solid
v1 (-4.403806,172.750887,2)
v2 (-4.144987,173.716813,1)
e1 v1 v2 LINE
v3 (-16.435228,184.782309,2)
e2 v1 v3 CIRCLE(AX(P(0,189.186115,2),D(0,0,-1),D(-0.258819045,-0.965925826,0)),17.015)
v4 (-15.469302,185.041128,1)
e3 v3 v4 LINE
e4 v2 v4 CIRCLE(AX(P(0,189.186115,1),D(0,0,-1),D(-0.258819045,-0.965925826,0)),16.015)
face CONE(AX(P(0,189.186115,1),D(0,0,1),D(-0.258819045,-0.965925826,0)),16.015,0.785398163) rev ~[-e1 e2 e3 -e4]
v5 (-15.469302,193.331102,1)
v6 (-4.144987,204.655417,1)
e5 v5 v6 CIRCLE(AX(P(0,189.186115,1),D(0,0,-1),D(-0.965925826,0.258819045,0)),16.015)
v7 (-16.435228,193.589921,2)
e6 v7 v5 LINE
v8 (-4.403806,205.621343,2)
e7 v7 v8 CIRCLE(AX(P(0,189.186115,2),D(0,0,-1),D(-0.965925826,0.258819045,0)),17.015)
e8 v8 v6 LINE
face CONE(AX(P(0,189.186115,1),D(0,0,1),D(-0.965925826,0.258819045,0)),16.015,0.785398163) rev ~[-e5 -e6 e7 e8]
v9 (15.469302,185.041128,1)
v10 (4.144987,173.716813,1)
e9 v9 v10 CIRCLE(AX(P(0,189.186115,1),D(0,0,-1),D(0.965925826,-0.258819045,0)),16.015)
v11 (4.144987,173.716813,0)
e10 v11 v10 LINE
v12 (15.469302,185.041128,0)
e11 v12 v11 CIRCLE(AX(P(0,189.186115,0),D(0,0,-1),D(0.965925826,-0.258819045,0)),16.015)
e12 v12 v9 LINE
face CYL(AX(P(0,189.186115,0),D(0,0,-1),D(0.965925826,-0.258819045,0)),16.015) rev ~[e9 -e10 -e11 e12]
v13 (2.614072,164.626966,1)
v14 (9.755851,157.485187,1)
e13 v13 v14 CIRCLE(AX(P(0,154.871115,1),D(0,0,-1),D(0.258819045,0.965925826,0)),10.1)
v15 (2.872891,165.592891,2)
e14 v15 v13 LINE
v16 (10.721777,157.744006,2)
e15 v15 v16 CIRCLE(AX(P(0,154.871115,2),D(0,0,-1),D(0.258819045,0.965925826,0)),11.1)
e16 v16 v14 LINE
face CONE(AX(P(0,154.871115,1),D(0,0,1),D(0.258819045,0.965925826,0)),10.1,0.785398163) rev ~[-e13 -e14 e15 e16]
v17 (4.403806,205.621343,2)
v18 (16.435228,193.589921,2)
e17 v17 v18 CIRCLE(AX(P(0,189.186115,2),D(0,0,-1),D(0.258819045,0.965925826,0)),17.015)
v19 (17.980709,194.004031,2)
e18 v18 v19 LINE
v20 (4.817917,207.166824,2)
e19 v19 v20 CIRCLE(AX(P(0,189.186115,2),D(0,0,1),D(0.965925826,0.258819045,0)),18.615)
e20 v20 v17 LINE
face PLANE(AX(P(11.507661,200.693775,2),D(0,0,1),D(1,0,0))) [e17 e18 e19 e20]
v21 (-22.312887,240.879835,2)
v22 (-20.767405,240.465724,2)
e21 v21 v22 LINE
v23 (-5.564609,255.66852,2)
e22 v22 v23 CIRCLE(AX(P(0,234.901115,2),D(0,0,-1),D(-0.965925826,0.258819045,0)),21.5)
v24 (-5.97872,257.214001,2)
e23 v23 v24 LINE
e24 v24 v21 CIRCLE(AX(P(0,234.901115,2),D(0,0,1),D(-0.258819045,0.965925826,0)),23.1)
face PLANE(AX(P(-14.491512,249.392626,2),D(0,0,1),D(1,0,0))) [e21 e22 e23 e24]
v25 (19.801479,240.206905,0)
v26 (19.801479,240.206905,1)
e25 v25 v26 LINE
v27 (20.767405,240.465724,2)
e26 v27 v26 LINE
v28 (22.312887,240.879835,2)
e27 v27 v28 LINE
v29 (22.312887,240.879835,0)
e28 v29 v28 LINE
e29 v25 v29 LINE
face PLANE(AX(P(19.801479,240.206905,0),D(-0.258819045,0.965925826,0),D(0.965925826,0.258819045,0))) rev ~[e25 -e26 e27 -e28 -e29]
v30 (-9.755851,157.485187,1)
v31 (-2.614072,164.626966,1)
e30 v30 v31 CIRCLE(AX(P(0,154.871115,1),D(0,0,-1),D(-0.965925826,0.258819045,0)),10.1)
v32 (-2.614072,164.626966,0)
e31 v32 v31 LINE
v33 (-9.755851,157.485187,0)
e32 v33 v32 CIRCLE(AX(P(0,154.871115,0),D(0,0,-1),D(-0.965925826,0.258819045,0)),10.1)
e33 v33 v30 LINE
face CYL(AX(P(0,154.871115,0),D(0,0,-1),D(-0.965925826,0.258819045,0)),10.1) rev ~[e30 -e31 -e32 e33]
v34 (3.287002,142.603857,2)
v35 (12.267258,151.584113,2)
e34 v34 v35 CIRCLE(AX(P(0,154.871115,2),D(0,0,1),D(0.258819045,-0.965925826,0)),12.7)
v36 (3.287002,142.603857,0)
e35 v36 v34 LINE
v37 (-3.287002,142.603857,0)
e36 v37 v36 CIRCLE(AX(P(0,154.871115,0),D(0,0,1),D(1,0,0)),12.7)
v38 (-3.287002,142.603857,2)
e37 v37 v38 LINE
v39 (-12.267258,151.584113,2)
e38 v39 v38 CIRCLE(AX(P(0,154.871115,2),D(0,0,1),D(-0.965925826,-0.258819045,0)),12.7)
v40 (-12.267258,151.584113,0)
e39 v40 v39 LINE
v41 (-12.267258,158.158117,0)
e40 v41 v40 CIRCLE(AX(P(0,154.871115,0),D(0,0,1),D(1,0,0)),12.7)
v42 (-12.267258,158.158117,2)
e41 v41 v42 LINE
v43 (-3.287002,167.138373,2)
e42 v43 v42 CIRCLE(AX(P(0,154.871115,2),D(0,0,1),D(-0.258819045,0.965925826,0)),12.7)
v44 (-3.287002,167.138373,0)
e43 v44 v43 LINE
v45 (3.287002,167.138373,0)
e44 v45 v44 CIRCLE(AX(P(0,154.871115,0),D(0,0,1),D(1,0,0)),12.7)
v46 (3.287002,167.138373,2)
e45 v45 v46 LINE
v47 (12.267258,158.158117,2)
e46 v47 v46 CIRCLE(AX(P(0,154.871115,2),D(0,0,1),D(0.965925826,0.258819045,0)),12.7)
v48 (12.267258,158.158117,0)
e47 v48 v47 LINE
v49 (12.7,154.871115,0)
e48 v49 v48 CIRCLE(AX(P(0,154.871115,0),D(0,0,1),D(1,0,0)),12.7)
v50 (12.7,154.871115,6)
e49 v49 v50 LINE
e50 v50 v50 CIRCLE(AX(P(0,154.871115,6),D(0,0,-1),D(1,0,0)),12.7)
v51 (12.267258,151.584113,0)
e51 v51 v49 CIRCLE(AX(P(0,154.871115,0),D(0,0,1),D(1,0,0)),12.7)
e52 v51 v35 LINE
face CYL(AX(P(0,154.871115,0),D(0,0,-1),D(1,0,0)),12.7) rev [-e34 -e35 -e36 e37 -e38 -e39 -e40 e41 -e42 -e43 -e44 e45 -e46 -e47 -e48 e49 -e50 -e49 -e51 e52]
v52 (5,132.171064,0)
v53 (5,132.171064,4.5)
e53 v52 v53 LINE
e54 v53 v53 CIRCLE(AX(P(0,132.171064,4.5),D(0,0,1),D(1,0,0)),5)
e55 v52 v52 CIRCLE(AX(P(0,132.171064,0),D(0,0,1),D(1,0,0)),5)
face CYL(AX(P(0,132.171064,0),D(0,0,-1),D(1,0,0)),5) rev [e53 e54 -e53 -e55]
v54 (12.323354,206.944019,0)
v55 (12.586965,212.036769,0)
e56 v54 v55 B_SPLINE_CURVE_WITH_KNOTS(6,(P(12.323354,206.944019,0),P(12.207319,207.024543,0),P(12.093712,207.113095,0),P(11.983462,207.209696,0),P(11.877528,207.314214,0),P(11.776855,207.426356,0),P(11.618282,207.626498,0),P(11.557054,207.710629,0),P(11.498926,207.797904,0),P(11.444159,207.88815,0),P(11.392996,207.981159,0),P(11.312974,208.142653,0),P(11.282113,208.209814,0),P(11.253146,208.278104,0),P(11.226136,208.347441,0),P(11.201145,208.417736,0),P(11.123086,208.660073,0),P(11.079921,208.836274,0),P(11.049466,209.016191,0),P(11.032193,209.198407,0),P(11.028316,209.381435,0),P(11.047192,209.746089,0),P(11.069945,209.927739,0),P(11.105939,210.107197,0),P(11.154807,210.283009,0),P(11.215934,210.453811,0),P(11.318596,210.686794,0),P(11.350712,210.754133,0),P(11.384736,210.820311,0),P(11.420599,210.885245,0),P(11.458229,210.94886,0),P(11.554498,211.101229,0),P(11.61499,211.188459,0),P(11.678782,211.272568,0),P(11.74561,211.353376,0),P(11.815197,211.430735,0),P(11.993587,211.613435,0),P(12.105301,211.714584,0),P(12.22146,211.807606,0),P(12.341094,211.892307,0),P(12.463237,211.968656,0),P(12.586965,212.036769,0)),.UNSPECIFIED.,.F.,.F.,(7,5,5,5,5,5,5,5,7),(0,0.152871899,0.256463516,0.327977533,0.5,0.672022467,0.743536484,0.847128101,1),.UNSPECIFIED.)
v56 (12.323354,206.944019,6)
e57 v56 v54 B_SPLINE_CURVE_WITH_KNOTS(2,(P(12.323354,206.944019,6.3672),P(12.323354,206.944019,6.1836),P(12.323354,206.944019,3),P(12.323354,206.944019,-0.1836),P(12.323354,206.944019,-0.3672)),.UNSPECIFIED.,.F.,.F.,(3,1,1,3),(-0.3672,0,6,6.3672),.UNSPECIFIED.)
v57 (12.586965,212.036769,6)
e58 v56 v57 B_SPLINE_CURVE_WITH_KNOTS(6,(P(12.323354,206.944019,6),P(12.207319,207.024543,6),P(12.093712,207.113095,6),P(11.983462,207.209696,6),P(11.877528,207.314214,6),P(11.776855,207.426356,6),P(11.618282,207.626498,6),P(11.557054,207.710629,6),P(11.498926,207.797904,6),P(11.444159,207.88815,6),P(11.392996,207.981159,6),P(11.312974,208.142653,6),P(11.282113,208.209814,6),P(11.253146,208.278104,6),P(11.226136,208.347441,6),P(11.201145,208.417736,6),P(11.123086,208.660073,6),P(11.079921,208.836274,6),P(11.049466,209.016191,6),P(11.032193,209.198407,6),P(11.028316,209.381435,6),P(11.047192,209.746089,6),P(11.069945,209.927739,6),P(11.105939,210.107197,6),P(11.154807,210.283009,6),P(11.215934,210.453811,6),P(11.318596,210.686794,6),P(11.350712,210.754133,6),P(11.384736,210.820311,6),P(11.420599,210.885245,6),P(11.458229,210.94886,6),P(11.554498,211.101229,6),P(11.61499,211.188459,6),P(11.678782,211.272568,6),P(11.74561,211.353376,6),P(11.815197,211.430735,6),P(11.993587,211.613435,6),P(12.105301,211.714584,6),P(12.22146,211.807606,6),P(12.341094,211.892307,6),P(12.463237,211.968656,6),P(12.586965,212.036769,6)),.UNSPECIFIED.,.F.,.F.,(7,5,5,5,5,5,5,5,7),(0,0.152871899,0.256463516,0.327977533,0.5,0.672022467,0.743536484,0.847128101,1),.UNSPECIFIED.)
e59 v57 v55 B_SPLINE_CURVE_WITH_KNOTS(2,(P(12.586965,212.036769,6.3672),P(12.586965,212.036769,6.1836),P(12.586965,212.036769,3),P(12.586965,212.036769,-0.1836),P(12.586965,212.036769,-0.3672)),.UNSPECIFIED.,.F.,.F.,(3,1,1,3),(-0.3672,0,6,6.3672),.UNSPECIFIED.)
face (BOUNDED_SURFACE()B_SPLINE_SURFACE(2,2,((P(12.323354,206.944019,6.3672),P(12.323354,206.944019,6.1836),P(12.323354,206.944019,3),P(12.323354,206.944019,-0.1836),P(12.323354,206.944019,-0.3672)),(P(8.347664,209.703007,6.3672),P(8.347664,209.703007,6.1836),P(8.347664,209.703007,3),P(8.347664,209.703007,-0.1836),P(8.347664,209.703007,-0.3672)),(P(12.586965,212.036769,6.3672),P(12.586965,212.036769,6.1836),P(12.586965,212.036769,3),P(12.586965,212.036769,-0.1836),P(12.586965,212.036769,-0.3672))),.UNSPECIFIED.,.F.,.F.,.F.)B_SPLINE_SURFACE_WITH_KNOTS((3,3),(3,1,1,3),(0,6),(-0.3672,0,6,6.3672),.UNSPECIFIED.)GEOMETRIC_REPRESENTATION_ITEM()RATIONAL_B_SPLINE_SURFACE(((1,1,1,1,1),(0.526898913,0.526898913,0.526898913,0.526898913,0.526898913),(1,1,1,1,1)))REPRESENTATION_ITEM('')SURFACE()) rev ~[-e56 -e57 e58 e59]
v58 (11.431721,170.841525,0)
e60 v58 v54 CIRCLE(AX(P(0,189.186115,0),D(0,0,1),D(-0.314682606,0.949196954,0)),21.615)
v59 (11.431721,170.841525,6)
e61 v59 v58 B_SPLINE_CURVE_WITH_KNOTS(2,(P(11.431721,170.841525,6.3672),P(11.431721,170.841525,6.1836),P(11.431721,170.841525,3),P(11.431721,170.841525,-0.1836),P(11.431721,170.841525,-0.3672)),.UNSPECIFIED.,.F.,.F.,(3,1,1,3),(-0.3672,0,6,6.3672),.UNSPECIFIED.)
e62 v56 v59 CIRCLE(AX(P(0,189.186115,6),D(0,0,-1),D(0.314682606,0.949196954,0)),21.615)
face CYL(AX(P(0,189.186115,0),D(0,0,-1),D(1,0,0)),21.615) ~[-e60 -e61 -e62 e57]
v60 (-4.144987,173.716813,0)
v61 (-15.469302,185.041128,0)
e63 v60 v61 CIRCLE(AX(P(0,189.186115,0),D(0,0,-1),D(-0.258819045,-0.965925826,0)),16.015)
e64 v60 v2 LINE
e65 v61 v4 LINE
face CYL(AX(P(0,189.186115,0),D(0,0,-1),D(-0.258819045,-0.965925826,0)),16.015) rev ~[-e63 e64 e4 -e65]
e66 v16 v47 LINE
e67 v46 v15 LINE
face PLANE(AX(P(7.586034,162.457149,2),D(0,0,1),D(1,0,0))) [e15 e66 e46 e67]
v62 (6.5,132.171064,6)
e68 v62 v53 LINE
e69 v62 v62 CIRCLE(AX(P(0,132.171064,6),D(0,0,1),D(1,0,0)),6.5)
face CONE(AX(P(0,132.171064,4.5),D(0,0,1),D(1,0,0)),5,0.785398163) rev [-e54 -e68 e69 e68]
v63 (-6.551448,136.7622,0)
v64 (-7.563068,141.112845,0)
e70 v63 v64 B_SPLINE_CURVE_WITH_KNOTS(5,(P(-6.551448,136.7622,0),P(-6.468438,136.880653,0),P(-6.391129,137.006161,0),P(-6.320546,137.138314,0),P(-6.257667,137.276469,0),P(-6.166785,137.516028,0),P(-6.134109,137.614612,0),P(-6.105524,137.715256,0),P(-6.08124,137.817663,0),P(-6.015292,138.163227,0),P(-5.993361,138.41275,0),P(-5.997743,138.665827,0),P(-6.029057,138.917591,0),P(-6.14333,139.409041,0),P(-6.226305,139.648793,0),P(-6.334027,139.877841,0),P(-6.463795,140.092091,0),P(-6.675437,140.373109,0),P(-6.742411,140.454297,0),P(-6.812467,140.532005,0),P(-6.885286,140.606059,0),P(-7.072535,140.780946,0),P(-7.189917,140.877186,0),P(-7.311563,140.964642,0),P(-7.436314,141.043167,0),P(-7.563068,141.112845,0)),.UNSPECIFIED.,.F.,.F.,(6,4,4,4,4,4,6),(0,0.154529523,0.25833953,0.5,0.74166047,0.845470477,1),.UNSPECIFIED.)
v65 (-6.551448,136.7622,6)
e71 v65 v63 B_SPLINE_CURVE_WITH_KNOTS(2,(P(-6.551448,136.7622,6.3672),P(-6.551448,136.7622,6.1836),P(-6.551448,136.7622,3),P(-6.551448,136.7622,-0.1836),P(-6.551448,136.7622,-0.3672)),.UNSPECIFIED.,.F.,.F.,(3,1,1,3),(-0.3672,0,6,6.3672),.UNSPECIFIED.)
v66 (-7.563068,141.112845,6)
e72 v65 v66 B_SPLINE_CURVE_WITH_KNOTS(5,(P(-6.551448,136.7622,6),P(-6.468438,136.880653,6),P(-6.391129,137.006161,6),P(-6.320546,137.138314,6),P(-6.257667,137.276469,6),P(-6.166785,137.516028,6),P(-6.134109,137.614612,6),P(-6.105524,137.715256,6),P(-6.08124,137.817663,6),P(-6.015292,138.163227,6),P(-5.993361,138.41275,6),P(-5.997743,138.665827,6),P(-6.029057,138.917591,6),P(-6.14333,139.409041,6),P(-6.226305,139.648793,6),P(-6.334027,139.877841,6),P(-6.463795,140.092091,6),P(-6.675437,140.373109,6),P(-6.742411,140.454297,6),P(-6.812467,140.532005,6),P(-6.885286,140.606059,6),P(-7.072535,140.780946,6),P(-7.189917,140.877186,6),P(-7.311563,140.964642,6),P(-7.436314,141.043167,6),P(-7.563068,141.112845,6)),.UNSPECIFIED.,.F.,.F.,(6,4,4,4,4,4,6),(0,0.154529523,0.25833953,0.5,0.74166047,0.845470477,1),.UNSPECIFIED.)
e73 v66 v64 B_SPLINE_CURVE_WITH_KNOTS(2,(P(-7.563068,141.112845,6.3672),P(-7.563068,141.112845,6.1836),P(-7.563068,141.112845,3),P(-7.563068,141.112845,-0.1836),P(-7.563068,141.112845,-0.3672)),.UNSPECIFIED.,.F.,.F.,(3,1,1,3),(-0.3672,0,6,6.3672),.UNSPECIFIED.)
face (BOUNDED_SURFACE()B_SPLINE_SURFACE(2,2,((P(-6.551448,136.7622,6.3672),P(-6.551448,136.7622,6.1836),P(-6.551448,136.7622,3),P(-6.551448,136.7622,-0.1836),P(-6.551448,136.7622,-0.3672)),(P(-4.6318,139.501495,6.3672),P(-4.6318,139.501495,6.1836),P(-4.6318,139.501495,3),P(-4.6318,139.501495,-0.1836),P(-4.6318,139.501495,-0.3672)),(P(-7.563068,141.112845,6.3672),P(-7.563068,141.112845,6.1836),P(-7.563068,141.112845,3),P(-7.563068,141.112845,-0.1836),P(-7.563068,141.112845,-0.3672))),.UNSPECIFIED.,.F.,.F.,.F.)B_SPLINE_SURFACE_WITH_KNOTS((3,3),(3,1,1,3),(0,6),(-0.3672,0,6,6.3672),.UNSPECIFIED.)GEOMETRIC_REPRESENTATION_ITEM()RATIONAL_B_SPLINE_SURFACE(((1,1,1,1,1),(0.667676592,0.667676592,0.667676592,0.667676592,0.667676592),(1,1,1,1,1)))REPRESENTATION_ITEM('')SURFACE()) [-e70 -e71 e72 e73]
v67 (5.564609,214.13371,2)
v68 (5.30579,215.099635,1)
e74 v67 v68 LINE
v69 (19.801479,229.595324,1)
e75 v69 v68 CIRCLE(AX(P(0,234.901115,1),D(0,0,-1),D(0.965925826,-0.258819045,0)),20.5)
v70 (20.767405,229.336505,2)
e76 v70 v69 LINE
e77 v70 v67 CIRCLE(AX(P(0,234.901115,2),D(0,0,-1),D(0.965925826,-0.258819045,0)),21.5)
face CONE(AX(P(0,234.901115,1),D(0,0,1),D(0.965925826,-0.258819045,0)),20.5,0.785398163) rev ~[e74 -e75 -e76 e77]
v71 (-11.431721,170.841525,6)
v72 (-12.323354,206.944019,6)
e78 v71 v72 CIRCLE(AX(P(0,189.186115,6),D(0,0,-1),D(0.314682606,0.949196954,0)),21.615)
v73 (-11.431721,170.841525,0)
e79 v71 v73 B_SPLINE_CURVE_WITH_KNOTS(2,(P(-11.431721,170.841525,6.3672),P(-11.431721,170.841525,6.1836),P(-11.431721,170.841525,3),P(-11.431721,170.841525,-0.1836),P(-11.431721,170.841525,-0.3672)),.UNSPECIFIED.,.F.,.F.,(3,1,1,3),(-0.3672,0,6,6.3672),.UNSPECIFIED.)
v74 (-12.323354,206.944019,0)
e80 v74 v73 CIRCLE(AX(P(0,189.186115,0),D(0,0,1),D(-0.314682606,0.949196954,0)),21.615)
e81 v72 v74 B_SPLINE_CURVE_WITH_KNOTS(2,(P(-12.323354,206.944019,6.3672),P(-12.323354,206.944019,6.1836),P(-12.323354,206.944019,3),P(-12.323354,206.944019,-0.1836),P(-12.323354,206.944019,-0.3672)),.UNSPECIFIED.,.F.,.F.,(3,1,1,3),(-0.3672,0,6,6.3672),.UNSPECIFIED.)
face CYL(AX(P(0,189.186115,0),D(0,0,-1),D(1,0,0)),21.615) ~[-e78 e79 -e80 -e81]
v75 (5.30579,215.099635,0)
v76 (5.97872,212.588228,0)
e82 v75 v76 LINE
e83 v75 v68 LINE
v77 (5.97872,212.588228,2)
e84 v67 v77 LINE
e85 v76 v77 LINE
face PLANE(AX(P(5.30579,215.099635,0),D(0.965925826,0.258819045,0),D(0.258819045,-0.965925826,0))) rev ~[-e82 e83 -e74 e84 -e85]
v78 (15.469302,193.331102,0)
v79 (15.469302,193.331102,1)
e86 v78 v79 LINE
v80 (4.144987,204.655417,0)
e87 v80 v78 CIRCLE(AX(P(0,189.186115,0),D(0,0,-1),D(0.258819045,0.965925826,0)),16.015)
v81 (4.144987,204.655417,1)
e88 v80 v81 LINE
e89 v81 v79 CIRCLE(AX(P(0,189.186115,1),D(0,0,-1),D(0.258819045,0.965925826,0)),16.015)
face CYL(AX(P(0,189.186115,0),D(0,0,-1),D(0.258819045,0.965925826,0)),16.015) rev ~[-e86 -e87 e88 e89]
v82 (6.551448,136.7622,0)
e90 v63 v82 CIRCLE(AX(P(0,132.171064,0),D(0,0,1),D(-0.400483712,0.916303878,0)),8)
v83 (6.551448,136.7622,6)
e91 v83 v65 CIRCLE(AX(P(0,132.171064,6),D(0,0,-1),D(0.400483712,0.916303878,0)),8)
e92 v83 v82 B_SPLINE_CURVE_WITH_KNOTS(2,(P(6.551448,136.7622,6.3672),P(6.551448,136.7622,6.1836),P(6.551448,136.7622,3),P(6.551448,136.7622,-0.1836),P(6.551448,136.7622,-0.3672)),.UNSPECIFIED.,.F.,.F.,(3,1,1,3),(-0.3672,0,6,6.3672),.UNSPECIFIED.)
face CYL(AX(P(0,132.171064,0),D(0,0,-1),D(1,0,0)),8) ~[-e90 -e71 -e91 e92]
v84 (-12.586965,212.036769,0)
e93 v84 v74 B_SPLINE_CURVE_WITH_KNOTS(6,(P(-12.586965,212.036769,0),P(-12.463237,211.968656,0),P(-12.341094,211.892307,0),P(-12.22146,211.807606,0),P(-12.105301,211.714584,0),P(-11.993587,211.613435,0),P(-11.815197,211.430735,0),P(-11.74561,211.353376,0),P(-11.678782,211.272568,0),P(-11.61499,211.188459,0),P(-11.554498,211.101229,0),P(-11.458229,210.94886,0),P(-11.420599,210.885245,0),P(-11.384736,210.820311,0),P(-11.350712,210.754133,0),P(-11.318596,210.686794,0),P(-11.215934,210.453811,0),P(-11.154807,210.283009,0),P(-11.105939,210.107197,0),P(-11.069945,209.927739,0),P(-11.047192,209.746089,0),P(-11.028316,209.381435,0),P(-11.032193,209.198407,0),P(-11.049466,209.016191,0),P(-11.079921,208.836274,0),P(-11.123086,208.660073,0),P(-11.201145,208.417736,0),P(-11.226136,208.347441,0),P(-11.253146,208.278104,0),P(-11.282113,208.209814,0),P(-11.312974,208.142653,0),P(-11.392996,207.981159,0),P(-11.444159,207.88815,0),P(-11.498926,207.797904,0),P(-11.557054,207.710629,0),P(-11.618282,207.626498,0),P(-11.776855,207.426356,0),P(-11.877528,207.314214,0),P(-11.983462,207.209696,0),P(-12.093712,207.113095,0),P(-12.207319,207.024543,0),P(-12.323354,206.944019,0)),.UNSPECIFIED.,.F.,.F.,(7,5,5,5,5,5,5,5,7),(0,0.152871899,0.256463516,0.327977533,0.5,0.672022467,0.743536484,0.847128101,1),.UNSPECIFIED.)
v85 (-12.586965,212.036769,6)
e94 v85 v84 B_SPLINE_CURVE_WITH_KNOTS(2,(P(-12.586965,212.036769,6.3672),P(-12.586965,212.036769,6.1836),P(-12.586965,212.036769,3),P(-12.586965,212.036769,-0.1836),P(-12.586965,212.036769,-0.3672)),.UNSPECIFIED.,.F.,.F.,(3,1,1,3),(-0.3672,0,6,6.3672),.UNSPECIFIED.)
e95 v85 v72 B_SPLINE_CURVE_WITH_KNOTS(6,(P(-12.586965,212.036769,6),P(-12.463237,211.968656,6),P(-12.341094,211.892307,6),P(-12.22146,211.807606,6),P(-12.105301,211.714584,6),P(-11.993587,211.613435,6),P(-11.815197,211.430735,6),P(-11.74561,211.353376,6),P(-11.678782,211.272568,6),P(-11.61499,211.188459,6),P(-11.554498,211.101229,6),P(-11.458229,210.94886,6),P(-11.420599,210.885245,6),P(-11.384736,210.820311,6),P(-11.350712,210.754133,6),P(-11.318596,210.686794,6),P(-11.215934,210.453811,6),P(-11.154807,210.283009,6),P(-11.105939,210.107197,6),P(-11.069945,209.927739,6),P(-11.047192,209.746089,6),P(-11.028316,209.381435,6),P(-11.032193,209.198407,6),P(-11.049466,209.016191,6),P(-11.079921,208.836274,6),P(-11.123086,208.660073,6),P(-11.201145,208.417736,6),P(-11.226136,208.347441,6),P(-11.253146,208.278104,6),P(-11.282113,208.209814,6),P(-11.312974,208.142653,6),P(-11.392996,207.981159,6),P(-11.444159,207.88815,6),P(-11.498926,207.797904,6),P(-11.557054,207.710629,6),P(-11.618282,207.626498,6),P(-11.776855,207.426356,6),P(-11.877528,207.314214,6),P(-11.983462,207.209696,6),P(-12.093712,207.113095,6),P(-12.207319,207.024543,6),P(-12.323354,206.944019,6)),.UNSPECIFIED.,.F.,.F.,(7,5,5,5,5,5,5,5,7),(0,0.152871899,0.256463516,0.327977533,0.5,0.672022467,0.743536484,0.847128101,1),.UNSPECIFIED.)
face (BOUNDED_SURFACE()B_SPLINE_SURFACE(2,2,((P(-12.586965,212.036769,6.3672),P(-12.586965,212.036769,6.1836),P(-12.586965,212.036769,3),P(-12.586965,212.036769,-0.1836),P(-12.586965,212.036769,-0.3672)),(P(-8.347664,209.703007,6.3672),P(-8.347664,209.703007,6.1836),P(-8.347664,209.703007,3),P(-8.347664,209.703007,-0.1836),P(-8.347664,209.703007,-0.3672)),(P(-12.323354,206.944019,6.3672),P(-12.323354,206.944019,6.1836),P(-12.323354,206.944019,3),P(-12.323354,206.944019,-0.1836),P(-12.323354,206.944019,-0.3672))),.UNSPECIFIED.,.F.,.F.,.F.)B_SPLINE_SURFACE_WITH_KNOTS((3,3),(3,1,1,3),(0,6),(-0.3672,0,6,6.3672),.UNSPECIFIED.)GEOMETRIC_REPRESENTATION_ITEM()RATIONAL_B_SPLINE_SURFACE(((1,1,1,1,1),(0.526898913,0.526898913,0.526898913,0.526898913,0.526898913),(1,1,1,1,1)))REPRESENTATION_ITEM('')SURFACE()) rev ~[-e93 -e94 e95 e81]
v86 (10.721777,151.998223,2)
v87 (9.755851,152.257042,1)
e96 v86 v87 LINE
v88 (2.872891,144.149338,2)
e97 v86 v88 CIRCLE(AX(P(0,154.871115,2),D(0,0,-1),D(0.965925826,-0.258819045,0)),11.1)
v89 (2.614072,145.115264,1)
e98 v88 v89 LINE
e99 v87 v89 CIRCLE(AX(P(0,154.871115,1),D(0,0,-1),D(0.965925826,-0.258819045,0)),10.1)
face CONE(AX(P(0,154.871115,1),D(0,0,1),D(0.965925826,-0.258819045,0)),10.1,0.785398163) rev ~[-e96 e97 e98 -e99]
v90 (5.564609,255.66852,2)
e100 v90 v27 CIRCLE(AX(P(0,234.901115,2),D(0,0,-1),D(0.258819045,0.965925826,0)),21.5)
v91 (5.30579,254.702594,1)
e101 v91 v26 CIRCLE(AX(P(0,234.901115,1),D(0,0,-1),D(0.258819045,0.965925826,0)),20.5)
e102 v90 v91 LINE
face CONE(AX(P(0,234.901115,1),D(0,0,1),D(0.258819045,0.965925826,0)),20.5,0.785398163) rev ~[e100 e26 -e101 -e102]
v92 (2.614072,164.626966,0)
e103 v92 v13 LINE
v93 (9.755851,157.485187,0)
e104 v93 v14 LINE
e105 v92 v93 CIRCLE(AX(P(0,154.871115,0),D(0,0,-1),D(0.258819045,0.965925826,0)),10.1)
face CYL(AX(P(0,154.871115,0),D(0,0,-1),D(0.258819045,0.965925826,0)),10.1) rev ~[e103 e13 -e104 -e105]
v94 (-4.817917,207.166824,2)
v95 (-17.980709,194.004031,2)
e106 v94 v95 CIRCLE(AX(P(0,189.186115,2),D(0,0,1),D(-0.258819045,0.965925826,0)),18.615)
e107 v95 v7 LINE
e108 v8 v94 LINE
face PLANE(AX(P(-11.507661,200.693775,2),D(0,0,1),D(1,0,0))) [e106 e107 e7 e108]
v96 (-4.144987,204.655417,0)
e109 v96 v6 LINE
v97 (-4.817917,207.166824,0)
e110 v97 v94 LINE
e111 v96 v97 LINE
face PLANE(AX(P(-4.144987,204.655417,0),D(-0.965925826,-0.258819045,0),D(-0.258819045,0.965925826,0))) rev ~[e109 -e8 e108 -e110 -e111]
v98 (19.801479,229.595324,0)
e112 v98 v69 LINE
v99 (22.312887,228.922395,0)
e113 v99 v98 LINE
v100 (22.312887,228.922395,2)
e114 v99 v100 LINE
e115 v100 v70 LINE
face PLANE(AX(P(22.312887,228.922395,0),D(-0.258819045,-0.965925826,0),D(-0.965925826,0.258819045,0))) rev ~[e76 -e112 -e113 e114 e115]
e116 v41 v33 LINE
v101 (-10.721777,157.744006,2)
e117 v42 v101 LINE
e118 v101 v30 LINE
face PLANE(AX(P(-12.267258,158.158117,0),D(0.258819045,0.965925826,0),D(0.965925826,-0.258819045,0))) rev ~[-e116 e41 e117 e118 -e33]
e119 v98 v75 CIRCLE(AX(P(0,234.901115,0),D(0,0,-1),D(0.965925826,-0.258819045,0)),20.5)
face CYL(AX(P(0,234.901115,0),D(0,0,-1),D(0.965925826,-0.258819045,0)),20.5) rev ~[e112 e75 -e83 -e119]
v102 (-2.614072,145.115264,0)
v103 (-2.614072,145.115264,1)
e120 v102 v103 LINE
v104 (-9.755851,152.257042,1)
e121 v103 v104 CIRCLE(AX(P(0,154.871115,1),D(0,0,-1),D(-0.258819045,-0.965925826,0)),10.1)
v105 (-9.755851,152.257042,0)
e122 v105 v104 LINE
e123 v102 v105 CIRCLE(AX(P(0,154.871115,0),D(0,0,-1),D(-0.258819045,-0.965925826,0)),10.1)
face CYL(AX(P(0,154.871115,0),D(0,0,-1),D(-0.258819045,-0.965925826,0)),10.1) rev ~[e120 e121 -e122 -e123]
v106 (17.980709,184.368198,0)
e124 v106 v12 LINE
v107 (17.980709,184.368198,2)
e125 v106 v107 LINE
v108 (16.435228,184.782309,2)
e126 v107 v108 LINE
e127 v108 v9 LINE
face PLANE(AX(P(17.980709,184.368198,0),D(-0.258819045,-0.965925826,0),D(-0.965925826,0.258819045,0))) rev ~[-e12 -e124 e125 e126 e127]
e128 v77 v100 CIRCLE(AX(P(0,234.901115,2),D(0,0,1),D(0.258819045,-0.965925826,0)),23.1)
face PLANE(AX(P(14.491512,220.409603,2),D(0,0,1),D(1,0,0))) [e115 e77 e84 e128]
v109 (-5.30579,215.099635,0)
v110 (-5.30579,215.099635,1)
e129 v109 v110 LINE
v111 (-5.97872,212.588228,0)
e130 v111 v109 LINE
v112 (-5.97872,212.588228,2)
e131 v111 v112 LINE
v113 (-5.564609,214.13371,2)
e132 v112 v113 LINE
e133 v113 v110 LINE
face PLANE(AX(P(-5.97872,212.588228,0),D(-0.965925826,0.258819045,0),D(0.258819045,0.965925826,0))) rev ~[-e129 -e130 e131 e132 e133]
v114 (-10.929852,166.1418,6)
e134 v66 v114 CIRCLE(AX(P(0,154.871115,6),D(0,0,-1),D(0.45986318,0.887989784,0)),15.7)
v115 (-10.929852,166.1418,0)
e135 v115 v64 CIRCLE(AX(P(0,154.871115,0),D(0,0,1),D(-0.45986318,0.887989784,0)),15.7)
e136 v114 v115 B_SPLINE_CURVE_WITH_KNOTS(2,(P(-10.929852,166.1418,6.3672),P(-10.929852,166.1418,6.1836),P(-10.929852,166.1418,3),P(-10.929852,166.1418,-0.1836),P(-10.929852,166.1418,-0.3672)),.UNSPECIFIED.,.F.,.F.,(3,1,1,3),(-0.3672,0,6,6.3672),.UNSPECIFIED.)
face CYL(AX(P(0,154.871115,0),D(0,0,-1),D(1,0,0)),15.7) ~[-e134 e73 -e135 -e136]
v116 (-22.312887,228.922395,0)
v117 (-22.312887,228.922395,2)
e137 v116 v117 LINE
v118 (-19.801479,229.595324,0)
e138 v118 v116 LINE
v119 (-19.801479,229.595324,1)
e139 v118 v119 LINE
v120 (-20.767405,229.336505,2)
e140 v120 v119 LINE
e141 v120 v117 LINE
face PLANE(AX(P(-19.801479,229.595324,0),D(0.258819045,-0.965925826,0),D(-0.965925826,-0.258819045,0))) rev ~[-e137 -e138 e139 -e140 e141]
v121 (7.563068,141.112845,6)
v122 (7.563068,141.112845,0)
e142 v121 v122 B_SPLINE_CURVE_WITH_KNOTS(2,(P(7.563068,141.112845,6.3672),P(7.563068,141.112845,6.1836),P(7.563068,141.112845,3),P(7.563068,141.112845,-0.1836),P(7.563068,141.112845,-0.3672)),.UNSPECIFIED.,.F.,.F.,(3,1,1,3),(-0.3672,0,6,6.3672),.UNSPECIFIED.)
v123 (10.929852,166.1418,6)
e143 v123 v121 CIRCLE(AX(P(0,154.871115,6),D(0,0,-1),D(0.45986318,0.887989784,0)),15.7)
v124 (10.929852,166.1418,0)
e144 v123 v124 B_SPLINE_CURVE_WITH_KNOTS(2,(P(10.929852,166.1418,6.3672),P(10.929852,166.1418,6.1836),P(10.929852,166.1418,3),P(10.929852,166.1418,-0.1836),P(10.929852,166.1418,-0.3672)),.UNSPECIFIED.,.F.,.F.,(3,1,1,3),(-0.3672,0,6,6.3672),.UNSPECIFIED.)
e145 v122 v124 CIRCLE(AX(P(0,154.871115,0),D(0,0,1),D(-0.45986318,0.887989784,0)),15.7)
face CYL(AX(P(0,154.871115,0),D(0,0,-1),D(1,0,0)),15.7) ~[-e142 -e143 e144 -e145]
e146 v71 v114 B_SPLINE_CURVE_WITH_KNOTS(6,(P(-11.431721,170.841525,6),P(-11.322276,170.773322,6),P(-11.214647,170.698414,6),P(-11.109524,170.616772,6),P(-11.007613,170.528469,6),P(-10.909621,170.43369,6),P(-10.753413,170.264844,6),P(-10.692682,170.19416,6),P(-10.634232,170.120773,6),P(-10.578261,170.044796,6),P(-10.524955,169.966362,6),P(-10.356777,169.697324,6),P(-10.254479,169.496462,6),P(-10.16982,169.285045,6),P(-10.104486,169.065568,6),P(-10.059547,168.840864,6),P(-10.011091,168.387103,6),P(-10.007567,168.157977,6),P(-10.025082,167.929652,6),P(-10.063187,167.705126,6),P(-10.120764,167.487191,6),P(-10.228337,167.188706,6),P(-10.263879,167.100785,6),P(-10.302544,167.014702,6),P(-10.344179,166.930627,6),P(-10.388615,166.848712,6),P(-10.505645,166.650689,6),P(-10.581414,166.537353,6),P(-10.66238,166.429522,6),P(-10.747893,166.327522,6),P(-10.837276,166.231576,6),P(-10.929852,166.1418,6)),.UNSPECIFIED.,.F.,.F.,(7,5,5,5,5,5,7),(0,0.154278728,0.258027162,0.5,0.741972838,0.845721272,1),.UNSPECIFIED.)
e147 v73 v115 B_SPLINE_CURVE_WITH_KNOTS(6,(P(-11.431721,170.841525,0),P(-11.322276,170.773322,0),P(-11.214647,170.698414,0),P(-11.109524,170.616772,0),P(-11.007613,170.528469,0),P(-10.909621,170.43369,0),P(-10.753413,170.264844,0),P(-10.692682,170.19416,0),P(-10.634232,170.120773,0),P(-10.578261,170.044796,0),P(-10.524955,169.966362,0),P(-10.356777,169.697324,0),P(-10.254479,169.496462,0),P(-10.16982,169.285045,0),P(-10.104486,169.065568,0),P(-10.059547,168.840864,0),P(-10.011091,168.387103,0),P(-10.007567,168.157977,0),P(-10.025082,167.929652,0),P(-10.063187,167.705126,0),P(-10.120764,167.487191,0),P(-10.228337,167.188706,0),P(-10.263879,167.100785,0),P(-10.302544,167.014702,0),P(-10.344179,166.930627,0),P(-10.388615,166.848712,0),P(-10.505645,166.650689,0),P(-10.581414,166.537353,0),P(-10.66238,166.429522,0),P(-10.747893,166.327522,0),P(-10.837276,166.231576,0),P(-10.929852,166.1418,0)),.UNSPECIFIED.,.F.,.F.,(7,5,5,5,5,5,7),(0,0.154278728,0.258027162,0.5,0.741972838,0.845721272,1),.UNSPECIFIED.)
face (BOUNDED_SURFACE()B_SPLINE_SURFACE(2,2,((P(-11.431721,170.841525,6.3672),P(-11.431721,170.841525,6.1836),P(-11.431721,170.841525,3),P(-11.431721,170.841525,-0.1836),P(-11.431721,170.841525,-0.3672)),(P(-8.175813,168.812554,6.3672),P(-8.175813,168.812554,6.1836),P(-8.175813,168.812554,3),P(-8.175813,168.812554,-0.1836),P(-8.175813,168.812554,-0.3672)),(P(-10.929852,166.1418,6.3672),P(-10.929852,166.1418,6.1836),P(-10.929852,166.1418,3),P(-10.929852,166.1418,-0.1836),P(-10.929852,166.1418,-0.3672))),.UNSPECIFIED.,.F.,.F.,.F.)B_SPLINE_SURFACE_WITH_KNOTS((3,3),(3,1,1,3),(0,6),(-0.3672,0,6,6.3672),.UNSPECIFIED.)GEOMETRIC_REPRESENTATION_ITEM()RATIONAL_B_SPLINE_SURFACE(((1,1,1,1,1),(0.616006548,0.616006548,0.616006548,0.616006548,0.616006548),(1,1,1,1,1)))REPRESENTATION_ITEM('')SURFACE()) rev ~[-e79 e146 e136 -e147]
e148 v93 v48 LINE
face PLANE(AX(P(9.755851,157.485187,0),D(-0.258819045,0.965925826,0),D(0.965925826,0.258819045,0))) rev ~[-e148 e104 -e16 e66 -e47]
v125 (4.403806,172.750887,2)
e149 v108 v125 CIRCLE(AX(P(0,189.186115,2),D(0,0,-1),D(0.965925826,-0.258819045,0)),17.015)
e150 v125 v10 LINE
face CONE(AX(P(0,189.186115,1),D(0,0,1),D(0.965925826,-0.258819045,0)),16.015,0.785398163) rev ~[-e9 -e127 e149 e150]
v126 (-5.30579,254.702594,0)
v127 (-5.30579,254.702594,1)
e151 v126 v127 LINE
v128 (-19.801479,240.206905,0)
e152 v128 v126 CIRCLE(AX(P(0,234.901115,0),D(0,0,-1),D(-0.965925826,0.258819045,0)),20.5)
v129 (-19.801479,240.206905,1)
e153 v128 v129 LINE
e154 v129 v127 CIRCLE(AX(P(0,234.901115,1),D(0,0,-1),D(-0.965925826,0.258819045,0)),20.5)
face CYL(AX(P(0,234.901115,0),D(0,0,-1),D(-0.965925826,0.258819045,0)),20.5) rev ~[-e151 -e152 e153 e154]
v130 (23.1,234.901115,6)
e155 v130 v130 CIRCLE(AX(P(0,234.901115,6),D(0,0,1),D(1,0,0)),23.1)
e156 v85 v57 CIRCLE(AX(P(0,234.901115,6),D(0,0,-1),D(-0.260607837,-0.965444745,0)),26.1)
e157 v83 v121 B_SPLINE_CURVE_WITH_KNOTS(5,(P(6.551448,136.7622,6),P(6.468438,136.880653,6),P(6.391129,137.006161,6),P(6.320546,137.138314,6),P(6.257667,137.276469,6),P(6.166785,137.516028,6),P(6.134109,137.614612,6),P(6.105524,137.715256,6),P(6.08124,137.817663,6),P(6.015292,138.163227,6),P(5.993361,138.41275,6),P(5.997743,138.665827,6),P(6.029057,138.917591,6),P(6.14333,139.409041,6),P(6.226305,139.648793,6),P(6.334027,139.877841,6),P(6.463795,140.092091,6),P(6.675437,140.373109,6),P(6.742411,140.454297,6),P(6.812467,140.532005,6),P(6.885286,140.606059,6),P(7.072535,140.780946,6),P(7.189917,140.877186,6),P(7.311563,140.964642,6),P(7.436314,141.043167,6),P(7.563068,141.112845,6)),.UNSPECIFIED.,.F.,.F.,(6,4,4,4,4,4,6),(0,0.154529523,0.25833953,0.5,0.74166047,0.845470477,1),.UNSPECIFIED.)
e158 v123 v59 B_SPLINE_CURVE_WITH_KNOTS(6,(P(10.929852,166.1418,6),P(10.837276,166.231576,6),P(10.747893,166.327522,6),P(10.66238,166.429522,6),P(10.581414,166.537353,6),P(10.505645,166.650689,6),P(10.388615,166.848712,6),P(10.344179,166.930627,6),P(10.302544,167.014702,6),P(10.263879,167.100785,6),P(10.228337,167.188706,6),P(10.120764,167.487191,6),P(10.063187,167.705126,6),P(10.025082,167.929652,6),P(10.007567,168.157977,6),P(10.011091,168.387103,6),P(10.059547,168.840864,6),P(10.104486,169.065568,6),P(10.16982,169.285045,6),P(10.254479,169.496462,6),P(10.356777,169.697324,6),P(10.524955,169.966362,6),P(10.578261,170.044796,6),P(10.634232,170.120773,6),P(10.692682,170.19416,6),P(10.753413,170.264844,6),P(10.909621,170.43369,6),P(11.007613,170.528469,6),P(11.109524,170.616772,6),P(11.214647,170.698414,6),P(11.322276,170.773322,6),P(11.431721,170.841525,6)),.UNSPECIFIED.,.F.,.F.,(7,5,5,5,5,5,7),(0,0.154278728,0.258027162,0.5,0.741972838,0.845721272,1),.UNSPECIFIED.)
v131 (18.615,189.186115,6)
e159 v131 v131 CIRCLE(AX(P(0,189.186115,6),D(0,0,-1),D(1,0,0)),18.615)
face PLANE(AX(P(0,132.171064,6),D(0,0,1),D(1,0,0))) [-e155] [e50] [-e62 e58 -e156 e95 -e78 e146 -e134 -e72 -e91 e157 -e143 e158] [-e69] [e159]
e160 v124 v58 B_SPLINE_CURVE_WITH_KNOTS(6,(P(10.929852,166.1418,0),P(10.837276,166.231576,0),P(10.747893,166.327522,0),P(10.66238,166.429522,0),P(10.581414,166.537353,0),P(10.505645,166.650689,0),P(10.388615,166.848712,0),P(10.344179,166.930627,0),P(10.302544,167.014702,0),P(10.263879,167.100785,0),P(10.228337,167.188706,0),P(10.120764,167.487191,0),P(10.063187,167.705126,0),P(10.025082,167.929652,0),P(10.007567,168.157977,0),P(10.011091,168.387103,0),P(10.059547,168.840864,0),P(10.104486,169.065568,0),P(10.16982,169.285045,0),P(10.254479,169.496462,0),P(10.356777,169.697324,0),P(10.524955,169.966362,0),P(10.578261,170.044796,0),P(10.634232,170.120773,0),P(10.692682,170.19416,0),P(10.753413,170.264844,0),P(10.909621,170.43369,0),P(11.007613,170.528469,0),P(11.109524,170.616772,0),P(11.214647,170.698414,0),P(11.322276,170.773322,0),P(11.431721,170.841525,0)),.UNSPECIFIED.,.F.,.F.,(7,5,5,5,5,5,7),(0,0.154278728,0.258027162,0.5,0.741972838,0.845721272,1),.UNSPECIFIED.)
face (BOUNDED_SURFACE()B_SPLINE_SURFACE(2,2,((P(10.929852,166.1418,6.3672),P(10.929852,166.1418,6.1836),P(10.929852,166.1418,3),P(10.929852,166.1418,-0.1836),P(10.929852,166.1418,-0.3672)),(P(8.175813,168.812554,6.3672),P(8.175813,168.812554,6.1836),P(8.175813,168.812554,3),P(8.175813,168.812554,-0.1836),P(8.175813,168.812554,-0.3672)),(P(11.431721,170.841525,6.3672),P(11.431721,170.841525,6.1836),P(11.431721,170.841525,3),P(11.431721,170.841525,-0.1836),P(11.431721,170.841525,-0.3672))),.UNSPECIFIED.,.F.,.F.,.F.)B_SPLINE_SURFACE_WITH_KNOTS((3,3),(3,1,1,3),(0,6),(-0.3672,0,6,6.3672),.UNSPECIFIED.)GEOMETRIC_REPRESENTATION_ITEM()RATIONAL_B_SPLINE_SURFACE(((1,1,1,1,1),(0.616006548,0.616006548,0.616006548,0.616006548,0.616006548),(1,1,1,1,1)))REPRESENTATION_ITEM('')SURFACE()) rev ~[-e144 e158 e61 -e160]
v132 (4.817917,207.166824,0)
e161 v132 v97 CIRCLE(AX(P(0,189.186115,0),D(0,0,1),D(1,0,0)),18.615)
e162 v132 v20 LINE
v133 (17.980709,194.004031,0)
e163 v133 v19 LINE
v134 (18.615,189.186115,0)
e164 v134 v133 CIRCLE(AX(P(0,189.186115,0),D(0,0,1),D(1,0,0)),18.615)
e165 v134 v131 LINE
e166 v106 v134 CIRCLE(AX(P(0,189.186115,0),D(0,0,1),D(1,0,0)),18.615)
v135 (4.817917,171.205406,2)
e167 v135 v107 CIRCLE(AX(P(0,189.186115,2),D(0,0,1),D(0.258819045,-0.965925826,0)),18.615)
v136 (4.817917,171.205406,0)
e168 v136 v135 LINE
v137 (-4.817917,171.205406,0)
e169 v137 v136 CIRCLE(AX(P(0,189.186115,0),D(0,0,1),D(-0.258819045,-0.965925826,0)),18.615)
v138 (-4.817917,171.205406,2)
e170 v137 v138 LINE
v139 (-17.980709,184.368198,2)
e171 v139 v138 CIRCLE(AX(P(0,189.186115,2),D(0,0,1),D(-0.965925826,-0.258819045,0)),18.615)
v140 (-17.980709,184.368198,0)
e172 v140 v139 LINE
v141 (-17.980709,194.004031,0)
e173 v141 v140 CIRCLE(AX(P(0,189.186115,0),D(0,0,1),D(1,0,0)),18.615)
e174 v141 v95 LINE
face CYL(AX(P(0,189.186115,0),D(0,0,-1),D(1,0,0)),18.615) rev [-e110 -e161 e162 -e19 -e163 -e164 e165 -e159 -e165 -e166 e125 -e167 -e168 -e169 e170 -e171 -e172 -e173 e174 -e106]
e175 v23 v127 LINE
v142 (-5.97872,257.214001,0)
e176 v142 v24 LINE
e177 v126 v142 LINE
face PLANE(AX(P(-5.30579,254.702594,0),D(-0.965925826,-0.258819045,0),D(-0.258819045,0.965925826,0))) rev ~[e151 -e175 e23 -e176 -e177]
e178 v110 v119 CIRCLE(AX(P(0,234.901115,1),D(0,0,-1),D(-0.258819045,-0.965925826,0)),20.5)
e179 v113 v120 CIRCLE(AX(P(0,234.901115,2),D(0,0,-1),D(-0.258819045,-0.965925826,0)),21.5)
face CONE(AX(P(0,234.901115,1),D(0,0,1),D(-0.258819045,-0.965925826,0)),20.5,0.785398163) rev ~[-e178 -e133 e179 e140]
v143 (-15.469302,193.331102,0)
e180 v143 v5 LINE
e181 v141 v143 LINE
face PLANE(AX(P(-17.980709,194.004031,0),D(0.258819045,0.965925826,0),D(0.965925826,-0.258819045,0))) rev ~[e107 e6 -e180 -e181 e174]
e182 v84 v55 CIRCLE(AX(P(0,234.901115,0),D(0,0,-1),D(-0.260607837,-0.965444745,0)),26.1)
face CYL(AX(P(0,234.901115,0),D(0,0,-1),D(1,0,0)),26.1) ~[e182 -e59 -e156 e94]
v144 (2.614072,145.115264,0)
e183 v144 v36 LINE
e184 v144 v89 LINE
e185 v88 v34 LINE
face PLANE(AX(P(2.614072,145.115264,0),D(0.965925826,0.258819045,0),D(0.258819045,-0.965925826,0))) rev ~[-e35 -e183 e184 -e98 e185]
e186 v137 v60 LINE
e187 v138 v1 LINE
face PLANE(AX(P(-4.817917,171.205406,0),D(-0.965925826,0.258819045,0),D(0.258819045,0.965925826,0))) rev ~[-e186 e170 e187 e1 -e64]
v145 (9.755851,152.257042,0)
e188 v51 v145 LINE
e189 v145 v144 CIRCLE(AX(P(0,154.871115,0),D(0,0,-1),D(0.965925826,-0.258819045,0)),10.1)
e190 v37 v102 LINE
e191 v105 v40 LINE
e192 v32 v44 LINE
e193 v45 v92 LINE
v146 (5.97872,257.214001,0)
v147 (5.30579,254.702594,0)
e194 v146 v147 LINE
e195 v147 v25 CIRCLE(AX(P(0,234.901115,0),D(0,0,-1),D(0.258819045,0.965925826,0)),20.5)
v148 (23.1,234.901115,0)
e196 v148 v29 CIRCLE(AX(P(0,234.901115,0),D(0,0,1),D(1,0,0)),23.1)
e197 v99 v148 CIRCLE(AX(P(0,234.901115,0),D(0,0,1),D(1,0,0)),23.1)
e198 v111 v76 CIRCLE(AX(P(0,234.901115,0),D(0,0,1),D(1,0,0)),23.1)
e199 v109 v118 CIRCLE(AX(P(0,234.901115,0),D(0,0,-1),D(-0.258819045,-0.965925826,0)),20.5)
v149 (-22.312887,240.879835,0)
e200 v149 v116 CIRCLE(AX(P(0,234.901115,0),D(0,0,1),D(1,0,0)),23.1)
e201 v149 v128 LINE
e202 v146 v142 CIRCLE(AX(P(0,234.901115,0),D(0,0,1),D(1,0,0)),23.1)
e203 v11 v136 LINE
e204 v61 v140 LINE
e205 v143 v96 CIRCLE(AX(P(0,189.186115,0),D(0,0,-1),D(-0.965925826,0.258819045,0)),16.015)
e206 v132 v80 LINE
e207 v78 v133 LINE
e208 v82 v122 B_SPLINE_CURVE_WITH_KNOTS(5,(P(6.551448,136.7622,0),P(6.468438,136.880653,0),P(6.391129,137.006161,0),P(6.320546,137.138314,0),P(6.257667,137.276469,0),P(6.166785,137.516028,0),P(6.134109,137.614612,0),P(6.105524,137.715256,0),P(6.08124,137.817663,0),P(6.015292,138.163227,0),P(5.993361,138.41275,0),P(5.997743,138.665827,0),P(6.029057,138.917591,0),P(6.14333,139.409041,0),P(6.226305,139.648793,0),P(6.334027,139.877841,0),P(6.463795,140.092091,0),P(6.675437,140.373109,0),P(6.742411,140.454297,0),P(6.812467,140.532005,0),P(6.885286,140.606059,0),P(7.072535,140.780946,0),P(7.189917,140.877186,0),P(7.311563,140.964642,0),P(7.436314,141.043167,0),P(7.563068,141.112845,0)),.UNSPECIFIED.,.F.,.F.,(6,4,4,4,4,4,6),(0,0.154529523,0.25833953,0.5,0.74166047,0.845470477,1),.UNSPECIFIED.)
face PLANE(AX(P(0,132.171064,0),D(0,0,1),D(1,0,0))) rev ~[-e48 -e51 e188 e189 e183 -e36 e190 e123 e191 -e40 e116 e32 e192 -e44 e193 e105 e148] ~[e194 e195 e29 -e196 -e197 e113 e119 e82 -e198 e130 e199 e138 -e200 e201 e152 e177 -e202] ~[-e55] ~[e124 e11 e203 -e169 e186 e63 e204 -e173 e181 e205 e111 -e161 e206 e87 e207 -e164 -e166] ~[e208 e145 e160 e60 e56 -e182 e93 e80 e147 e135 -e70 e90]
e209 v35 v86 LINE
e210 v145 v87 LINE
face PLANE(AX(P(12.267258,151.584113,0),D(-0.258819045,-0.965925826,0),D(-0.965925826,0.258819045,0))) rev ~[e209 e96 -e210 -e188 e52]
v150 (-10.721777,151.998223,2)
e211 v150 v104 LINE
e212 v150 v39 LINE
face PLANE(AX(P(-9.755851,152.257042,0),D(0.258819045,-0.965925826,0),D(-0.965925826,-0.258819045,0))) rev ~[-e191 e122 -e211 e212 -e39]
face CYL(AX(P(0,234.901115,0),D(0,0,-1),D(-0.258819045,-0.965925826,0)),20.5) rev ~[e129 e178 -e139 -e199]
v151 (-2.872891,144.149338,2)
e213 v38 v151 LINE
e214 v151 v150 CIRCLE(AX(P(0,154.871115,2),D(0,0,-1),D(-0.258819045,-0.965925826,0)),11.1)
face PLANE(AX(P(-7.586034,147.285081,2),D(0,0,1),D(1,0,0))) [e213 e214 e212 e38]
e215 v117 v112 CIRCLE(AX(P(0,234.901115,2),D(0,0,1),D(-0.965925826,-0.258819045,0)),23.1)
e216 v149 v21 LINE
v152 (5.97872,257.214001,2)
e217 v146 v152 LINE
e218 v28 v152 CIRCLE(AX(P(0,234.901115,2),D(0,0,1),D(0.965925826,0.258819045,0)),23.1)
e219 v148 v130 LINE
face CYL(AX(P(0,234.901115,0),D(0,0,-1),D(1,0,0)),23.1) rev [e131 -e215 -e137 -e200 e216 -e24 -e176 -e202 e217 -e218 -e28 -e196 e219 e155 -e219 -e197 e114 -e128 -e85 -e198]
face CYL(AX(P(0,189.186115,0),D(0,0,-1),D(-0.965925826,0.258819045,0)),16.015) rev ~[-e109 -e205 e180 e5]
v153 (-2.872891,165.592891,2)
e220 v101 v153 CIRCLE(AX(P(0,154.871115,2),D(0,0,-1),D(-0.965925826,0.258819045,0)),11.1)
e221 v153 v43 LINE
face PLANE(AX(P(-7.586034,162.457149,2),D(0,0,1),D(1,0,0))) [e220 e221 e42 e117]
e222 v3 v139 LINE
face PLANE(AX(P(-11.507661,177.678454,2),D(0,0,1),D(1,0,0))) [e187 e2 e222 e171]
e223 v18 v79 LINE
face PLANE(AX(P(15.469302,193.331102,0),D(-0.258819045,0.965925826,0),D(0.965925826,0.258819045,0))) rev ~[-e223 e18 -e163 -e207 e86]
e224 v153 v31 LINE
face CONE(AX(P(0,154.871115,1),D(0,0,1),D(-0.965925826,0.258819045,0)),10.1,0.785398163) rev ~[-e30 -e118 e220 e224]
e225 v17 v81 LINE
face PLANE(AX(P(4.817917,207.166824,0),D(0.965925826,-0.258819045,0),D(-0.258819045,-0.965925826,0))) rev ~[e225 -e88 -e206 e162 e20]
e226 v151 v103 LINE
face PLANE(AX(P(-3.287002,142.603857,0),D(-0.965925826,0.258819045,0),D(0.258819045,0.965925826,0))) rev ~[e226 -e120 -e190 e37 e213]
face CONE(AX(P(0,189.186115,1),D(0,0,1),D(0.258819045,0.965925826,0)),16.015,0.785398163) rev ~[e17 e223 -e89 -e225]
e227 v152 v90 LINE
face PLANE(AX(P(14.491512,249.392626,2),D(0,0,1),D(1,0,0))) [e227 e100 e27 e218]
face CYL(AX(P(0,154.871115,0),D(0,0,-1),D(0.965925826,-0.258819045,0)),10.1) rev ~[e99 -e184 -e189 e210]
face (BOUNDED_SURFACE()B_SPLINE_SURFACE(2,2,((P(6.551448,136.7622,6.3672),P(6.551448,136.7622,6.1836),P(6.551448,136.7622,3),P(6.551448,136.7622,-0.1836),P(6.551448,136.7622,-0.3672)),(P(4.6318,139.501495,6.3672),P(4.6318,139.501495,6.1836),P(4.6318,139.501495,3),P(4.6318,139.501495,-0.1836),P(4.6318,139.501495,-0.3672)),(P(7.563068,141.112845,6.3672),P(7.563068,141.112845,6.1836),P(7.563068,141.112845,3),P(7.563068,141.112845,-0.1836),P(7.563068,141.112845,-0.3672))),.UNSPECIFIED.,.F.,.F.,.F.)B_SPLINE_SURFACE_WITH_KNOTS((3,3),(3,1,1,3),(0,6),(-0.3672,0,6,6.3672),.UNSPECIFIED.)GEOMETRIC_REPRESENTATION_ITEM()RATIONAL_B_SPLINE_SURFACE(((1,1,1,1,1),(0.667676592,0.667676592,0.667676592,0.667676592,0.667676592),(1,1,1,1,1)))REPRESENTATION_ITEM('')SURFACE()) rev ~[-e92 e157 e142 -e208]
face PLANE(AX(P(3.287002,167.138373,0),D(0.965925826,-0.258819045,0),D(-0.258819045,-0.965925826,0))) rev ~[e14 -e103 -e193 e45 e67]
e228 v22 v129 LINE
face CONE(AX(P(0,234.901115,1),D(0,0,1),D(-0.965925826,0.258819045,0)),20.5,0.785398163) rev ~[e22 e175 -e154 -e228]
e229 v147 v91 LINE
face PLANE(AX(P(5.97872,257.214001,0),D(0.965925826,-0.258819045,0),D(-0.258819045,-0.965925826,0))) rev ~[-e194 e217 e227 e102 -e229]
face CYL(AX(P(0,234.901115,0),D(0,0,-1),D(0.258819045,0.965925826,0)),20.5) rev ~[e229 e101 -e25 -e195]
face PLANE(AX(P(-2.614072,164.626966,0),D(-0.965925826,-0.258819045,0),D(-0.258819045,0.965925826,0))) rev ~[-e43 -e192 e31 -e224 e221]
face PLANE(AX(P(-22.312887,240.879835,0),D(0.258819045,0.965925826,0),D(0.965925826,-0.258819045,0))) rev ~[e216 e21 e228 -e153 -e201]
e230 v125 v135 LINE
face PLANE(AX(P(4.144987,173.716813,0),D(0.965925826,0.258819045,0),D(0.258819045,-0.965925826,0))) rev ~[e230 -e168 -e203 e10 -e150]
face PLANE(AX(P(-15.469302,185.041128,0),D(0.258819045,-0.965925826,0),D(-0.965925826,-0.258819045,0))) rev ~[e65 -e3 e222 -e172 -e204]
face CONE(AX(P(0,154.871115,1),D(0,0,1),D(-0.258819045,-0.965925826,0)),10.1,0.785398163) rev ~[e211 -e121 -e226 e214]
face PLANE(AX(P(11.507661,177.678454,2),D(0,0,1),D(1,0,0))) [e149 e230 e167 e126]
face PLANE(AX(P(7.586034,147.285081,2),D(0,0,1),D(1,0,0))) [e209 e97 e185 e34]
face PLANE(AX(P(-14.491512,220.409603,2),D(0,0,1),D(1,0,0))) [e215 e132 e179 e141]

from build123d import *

# Parameters (mm, degrees)
F0_R      = 26.1
F0_R_2    = 23.1
F1_DEPTH  = 6
F3_DEPTH  = 2
F4_SIZE   = 1
F5_R      = 21.615
F5_R_2    = 18.615
F6_DEPTH  = 6
F8_DEPTH  = 2
F9_SIZE   = 1
F10_R     = 15.7
F10_R_2   = 12.7
F11_DEPTH = 6
F13_DEPTH = 2
F14_SIZE  = 1
F15_R     = 8
F15_R_2   = 5
F16_DEPTH = 6
F17_SIZE  = 1.5
F18_R     = 3


with BuildPart() as f1:
    # F0 (on Top) → F1 (new body)
    with BuildSketch(Plane.XY):
        with Locations((0, 234.9011148272)):
            Circle(F0_R)
        with Locations((0, 234.9011148272)):
            Circle(F0_R_2, mode=Mode.SUBTRACT)
    extrude(amount=F1_DEPTH)

    # F2 (on Top) → F3 (join)
    with BuildSketch(Plane.XY):
        with BuildLine():
            ThreePointArc((-19.8014794389, 240.2069052518), (-14.4956890143, 249.3968038415), (-5.3057904246, 254.7025942661))
            Line((-5.3057904246, 254.7025942661), (-5.9787199419, 257.2140014145))
            ThreePointArc((-5.9787199419, 257.2140014145), (-16.3341666454, 251.2352814726), (-22.3128865873, 240.8798347691))
            Line((-22.3128865873, 240.8798347691), (-19.8014794389, 240.2069052518))
        make_face()
        with BuildLine():
            ThreePointArc((5.3057904246, 254.7025942661), (14.4956890143, 249.3968038415), (19.8014794389, 240.2069052518))
            Line((19.8014794389, 240.2069052518), (22.3128865873, 240.8798347691))
            ThreePointArc((22.3128865873, 240.8798347691), (16.3341666454, 251.2352814726), (5.9787199419, 257.2140014145))
            Line((5.9787199419, 257.2140014145), (5.3057904246, 254.7025942661))
        make_face()
        with BuildLine():
            Line((22.3128865873, 228.9223948853), (19.8014794389, 229.5953244026))
            ThreePointArc((19.8014794389, 229.5953244026), (14.4956890143, 220.4054258129), (5.3057904246, 215.0996353883))
            Line((5.3057904246, 215.0996353883), (5.9787199419, 212.5882282399))
            ThreePointArc((5.9787199419, 212.5882282399), (16.3341666454, 218.5669481818), (22.3128865873, 228.9223948853))
        make_face()
        with BuildLine():
            Line((-5.9787199419, 212.5882282399), (-5.3057904246, 215.0996353883))
            ThreePointArc((-5.3057904246, 215.0996353883), (-14.4956890143, 220.4054258129), (-19.8014794389, 229.5953244026))
            Line((-19.8014794389, 229.5953244026), (-22.3128865873, 228.9223948853))
            ThreePointArc((-22.3128865873, 228.9223948853), (-16.3341666454, 218.5669481818), (-5.9787199419, 212.5882282399))
        make_face()
    extrude(amount=F3_DEPTH)

    # F4
    f4_edges = [f1.edges().sort_by_distance(p)[0] for p in [
        (-14.495689, 249.396804, 2),
        (14.495689, 249.396804, 2),
        (14.495689, 220.405426, 2),
        (-14.495689, 220.405426, 2),
    ]]
    chamfer(f4_edges, length=F4_SIZE)

    # F5 (on Top) → F6 (join)
    with BuildSketch(Plane.XY):
        with Locations((0, 189.1861148272)):
            Circle(F5_R)
        with Locations((0, 189.1861148272)):
            Circle(F5_R_2, mode=Mode.SUBTRACT)
    extrude(amount=F6_DEPTH)

    # F7 (on Top) → F8 (join)
    with BuildSketch(Plane.XY):
        with BuildLine():
            ThreePointArc((-15.469302108, 193.3311018345), (-11.3243151007, 200.5104299279), (-4.1449870073, 204.6554169352))
            Line((-4.1449870073, 204.6554169352), (-4.8179165246, 207.1668240836))
            ThreePointArc((-4.8179165246, 207.1668240836), (-13.1627927318, 202.348907559), (-17.9807092564, 194.0040313518))
            Line((-17.9807092564, 194.0040313518), (-15.469302108, 193.3311018345))
        make_face()
        with BuildLine():
            Line((4.8179165246, 207.1668240836), (4.1449870073, 204.6554169352))
            ThreePointArc((4.1449870073, 204.6554169352), (11.3243151007, 200.5104299279), (15.469302108, 193.3311018345))
            Line((15.469302108, 193.3311018345), (17.9807092564, 194.0040313518))
            ThreePointArc((17.9807092564, 194.0040313518), (13.1627927318, 202.348907559), (4.8179165246, 207.1668240836))
        make_face()
        with BuildLine():
            Line((17.9807092564, 184.3681983026), (15.469302108, 185.0411278199))
            ThreePointArc((15.469302108, 185.0411278199), (11.3243151007, 177.8617997265), (4.1449870073, 173.7168127192))
            Line((4.1449870073, 173.7168127192), (4.8179165246, 171.2054055708))
            ThreePointArc((4.8179165246, 171.2054055708), (13.1627927318, 176.0233220954), (17.9807092564, 184.3681983026))
        make_face()
        with BuildLine():
            Line((-4.8179165246, 171.2054055708), (-4.1449870073, 173.7168127192))
            ThreePointArc((-4.1449870073, 173.7168127192), (-11.3243151007, 177.8617997265), (-15.469302108, 185.0411278199))
            Line((-15.469302108, 185.0411278199), (-17.9807092564, 184.3681983026))
            ThreePointArc((-17.9807092564, 184.3681983026), (-13.1627927318, 176.0233220954), (-4.8179165246, 171.2054055708))
        make_face()
    extrude(amount=F8_DEPTH)

    # F9
    f9_edges = [f1.edges().sort_by_distance(p)[0] for p in [
        (-11.324315, 200.51043, 2),
        (11.324315, 200.51043, 2),
        (11.324315, 177.8618, 2),
        (-11.324315, 177.8618, 2),
    ]]
    chamfer(f9_edges, length=F9_SIZE)

    # F10 (on Top) → F11 (join)
    with BuildSketch(Plane.XY):
        with Locations((0, 154.8711148272)):
            Circle(F10_R)
        with Locations((0, 154.8711148272)):
            Circle(F10_R_2, mode=Mode.SUBTRACT)
    extrude(amount=F11_DEPTH)

    # F12 (on Top) → F13 (join)
    with BuildSketch(Plane.XY):
        with BuildLine():
            Line((-2.6140723555, 164.6269656727), (-3.2870018728, 167.1383728211))
            ThreePointArc((-3.2870018728, 167.1383728211), (-8.9802561211, 163.8513709483), (-12.2672579939, 158.1581167))
            Line((-12.2672579939, 158.1581167), (-9.7558508455, 157.4851871827))
            ThreePointArc((-9.7558508455, 157.4851871827), (-7.14177849, 162.0128933172), (-2.6140723555, 164.6269656727))
        make_face()
        with BuildLine():
            Line((3.2870018728, 167.1383728211), (2.6140723555, 164.6269656727))
            ThreePointArc((2.6140723555, 164.6269656727), (7.14177849, 162.0128933172), (9.7558508455, 157.4851871827))
            Line((9.7558508455, 157.4851871827), (12.2672579939, 158.1581167))
            ThreePointArc((12.2672579939, 158.1581167), (8.9802561211, 163.8513709483), (3.2870018728, 167.1383728211))
        make_face()
        with BuildLine():
            Line((12.2672579939, 151.5841129544), (9.7558508455, 152.2570424717))
            ThreePointArc((9.7558508455, 152.2570424717), (7.14177849, 147.7293363372), (2.6140723555, 145.1152639817))
            Line((2.6140723555, 145.1152639817), (3.2870018728, 142.6038568333))
            ThreePointArc((3.2870018728, 142.6038568333), (8.9802561211, 145.8908587061), (12.2672579939, 151.5841129544))
        make_face()
        with BuildLine():
            Line((-3.2870018728, 142.6038568333), (-2.6140723555, 145.1152639817))
            ThreePointArc((-2.6140723555, 145.1152639817), (-7.14177849, 147.7293363372), (-9.7558508455, 152.2570424717))
            Line((-9.7558508455, 152.2570424717), (-12.2672579939, 151.5841129544))
            ThreePointArc((-12.2672579939, 151.5841129544), (-8.9802561211, 145.8908587061), (-3.2870018728, 142.6038568333))
        make_face()
    extrude(amount=F13_DEPTH)

    # F14
    f14_edges = [f1.edges().sort_by_distance(p)[0] for p in [
        (-7.141778, 162.012893, 2),
        (7.141778, 162.012893, 2),
        (7.141778, 147.729336, 2),
        (-7.141778, 147.729336, 2),
    ]]
    chamfer(f14_edges, length=F14_SIZE)

    # F15 (on Top) → F16 (join)
    with BuildSketch(Plane.XY):
        with Locations((0, 132.1710638065)):
            Circle(F15_R)
        with Locations((0, 132.1710638065)):
            Circle(F15_R_2, mode=Mode.SUBTRACT)
    extrude(amount=F16_DEPTH)

    # F17
    f17_edges = [f1.edges().sort_by_distance(p)[0] for p in [
        (-5, 132.171064, 6),
    ]]
    chamfer(f17_edges, length=F17_SIZE)

    # F18
    f18_edges = [f1.edges().sort_by_distance(p)[0] for p in [
        (-6.801865, 209.703007, 3),
        (6.801865, 209.703007, 3),
        (7.219852, 168.812554, 3),
        (-7.219852, 168.812554, 3),
        (3.20387, 139.501495, 3),
        (-3.20387, 139.501495, 3),
    ]]
    fillet(f18_edges, radius=F18_R)


solid = f1.part
